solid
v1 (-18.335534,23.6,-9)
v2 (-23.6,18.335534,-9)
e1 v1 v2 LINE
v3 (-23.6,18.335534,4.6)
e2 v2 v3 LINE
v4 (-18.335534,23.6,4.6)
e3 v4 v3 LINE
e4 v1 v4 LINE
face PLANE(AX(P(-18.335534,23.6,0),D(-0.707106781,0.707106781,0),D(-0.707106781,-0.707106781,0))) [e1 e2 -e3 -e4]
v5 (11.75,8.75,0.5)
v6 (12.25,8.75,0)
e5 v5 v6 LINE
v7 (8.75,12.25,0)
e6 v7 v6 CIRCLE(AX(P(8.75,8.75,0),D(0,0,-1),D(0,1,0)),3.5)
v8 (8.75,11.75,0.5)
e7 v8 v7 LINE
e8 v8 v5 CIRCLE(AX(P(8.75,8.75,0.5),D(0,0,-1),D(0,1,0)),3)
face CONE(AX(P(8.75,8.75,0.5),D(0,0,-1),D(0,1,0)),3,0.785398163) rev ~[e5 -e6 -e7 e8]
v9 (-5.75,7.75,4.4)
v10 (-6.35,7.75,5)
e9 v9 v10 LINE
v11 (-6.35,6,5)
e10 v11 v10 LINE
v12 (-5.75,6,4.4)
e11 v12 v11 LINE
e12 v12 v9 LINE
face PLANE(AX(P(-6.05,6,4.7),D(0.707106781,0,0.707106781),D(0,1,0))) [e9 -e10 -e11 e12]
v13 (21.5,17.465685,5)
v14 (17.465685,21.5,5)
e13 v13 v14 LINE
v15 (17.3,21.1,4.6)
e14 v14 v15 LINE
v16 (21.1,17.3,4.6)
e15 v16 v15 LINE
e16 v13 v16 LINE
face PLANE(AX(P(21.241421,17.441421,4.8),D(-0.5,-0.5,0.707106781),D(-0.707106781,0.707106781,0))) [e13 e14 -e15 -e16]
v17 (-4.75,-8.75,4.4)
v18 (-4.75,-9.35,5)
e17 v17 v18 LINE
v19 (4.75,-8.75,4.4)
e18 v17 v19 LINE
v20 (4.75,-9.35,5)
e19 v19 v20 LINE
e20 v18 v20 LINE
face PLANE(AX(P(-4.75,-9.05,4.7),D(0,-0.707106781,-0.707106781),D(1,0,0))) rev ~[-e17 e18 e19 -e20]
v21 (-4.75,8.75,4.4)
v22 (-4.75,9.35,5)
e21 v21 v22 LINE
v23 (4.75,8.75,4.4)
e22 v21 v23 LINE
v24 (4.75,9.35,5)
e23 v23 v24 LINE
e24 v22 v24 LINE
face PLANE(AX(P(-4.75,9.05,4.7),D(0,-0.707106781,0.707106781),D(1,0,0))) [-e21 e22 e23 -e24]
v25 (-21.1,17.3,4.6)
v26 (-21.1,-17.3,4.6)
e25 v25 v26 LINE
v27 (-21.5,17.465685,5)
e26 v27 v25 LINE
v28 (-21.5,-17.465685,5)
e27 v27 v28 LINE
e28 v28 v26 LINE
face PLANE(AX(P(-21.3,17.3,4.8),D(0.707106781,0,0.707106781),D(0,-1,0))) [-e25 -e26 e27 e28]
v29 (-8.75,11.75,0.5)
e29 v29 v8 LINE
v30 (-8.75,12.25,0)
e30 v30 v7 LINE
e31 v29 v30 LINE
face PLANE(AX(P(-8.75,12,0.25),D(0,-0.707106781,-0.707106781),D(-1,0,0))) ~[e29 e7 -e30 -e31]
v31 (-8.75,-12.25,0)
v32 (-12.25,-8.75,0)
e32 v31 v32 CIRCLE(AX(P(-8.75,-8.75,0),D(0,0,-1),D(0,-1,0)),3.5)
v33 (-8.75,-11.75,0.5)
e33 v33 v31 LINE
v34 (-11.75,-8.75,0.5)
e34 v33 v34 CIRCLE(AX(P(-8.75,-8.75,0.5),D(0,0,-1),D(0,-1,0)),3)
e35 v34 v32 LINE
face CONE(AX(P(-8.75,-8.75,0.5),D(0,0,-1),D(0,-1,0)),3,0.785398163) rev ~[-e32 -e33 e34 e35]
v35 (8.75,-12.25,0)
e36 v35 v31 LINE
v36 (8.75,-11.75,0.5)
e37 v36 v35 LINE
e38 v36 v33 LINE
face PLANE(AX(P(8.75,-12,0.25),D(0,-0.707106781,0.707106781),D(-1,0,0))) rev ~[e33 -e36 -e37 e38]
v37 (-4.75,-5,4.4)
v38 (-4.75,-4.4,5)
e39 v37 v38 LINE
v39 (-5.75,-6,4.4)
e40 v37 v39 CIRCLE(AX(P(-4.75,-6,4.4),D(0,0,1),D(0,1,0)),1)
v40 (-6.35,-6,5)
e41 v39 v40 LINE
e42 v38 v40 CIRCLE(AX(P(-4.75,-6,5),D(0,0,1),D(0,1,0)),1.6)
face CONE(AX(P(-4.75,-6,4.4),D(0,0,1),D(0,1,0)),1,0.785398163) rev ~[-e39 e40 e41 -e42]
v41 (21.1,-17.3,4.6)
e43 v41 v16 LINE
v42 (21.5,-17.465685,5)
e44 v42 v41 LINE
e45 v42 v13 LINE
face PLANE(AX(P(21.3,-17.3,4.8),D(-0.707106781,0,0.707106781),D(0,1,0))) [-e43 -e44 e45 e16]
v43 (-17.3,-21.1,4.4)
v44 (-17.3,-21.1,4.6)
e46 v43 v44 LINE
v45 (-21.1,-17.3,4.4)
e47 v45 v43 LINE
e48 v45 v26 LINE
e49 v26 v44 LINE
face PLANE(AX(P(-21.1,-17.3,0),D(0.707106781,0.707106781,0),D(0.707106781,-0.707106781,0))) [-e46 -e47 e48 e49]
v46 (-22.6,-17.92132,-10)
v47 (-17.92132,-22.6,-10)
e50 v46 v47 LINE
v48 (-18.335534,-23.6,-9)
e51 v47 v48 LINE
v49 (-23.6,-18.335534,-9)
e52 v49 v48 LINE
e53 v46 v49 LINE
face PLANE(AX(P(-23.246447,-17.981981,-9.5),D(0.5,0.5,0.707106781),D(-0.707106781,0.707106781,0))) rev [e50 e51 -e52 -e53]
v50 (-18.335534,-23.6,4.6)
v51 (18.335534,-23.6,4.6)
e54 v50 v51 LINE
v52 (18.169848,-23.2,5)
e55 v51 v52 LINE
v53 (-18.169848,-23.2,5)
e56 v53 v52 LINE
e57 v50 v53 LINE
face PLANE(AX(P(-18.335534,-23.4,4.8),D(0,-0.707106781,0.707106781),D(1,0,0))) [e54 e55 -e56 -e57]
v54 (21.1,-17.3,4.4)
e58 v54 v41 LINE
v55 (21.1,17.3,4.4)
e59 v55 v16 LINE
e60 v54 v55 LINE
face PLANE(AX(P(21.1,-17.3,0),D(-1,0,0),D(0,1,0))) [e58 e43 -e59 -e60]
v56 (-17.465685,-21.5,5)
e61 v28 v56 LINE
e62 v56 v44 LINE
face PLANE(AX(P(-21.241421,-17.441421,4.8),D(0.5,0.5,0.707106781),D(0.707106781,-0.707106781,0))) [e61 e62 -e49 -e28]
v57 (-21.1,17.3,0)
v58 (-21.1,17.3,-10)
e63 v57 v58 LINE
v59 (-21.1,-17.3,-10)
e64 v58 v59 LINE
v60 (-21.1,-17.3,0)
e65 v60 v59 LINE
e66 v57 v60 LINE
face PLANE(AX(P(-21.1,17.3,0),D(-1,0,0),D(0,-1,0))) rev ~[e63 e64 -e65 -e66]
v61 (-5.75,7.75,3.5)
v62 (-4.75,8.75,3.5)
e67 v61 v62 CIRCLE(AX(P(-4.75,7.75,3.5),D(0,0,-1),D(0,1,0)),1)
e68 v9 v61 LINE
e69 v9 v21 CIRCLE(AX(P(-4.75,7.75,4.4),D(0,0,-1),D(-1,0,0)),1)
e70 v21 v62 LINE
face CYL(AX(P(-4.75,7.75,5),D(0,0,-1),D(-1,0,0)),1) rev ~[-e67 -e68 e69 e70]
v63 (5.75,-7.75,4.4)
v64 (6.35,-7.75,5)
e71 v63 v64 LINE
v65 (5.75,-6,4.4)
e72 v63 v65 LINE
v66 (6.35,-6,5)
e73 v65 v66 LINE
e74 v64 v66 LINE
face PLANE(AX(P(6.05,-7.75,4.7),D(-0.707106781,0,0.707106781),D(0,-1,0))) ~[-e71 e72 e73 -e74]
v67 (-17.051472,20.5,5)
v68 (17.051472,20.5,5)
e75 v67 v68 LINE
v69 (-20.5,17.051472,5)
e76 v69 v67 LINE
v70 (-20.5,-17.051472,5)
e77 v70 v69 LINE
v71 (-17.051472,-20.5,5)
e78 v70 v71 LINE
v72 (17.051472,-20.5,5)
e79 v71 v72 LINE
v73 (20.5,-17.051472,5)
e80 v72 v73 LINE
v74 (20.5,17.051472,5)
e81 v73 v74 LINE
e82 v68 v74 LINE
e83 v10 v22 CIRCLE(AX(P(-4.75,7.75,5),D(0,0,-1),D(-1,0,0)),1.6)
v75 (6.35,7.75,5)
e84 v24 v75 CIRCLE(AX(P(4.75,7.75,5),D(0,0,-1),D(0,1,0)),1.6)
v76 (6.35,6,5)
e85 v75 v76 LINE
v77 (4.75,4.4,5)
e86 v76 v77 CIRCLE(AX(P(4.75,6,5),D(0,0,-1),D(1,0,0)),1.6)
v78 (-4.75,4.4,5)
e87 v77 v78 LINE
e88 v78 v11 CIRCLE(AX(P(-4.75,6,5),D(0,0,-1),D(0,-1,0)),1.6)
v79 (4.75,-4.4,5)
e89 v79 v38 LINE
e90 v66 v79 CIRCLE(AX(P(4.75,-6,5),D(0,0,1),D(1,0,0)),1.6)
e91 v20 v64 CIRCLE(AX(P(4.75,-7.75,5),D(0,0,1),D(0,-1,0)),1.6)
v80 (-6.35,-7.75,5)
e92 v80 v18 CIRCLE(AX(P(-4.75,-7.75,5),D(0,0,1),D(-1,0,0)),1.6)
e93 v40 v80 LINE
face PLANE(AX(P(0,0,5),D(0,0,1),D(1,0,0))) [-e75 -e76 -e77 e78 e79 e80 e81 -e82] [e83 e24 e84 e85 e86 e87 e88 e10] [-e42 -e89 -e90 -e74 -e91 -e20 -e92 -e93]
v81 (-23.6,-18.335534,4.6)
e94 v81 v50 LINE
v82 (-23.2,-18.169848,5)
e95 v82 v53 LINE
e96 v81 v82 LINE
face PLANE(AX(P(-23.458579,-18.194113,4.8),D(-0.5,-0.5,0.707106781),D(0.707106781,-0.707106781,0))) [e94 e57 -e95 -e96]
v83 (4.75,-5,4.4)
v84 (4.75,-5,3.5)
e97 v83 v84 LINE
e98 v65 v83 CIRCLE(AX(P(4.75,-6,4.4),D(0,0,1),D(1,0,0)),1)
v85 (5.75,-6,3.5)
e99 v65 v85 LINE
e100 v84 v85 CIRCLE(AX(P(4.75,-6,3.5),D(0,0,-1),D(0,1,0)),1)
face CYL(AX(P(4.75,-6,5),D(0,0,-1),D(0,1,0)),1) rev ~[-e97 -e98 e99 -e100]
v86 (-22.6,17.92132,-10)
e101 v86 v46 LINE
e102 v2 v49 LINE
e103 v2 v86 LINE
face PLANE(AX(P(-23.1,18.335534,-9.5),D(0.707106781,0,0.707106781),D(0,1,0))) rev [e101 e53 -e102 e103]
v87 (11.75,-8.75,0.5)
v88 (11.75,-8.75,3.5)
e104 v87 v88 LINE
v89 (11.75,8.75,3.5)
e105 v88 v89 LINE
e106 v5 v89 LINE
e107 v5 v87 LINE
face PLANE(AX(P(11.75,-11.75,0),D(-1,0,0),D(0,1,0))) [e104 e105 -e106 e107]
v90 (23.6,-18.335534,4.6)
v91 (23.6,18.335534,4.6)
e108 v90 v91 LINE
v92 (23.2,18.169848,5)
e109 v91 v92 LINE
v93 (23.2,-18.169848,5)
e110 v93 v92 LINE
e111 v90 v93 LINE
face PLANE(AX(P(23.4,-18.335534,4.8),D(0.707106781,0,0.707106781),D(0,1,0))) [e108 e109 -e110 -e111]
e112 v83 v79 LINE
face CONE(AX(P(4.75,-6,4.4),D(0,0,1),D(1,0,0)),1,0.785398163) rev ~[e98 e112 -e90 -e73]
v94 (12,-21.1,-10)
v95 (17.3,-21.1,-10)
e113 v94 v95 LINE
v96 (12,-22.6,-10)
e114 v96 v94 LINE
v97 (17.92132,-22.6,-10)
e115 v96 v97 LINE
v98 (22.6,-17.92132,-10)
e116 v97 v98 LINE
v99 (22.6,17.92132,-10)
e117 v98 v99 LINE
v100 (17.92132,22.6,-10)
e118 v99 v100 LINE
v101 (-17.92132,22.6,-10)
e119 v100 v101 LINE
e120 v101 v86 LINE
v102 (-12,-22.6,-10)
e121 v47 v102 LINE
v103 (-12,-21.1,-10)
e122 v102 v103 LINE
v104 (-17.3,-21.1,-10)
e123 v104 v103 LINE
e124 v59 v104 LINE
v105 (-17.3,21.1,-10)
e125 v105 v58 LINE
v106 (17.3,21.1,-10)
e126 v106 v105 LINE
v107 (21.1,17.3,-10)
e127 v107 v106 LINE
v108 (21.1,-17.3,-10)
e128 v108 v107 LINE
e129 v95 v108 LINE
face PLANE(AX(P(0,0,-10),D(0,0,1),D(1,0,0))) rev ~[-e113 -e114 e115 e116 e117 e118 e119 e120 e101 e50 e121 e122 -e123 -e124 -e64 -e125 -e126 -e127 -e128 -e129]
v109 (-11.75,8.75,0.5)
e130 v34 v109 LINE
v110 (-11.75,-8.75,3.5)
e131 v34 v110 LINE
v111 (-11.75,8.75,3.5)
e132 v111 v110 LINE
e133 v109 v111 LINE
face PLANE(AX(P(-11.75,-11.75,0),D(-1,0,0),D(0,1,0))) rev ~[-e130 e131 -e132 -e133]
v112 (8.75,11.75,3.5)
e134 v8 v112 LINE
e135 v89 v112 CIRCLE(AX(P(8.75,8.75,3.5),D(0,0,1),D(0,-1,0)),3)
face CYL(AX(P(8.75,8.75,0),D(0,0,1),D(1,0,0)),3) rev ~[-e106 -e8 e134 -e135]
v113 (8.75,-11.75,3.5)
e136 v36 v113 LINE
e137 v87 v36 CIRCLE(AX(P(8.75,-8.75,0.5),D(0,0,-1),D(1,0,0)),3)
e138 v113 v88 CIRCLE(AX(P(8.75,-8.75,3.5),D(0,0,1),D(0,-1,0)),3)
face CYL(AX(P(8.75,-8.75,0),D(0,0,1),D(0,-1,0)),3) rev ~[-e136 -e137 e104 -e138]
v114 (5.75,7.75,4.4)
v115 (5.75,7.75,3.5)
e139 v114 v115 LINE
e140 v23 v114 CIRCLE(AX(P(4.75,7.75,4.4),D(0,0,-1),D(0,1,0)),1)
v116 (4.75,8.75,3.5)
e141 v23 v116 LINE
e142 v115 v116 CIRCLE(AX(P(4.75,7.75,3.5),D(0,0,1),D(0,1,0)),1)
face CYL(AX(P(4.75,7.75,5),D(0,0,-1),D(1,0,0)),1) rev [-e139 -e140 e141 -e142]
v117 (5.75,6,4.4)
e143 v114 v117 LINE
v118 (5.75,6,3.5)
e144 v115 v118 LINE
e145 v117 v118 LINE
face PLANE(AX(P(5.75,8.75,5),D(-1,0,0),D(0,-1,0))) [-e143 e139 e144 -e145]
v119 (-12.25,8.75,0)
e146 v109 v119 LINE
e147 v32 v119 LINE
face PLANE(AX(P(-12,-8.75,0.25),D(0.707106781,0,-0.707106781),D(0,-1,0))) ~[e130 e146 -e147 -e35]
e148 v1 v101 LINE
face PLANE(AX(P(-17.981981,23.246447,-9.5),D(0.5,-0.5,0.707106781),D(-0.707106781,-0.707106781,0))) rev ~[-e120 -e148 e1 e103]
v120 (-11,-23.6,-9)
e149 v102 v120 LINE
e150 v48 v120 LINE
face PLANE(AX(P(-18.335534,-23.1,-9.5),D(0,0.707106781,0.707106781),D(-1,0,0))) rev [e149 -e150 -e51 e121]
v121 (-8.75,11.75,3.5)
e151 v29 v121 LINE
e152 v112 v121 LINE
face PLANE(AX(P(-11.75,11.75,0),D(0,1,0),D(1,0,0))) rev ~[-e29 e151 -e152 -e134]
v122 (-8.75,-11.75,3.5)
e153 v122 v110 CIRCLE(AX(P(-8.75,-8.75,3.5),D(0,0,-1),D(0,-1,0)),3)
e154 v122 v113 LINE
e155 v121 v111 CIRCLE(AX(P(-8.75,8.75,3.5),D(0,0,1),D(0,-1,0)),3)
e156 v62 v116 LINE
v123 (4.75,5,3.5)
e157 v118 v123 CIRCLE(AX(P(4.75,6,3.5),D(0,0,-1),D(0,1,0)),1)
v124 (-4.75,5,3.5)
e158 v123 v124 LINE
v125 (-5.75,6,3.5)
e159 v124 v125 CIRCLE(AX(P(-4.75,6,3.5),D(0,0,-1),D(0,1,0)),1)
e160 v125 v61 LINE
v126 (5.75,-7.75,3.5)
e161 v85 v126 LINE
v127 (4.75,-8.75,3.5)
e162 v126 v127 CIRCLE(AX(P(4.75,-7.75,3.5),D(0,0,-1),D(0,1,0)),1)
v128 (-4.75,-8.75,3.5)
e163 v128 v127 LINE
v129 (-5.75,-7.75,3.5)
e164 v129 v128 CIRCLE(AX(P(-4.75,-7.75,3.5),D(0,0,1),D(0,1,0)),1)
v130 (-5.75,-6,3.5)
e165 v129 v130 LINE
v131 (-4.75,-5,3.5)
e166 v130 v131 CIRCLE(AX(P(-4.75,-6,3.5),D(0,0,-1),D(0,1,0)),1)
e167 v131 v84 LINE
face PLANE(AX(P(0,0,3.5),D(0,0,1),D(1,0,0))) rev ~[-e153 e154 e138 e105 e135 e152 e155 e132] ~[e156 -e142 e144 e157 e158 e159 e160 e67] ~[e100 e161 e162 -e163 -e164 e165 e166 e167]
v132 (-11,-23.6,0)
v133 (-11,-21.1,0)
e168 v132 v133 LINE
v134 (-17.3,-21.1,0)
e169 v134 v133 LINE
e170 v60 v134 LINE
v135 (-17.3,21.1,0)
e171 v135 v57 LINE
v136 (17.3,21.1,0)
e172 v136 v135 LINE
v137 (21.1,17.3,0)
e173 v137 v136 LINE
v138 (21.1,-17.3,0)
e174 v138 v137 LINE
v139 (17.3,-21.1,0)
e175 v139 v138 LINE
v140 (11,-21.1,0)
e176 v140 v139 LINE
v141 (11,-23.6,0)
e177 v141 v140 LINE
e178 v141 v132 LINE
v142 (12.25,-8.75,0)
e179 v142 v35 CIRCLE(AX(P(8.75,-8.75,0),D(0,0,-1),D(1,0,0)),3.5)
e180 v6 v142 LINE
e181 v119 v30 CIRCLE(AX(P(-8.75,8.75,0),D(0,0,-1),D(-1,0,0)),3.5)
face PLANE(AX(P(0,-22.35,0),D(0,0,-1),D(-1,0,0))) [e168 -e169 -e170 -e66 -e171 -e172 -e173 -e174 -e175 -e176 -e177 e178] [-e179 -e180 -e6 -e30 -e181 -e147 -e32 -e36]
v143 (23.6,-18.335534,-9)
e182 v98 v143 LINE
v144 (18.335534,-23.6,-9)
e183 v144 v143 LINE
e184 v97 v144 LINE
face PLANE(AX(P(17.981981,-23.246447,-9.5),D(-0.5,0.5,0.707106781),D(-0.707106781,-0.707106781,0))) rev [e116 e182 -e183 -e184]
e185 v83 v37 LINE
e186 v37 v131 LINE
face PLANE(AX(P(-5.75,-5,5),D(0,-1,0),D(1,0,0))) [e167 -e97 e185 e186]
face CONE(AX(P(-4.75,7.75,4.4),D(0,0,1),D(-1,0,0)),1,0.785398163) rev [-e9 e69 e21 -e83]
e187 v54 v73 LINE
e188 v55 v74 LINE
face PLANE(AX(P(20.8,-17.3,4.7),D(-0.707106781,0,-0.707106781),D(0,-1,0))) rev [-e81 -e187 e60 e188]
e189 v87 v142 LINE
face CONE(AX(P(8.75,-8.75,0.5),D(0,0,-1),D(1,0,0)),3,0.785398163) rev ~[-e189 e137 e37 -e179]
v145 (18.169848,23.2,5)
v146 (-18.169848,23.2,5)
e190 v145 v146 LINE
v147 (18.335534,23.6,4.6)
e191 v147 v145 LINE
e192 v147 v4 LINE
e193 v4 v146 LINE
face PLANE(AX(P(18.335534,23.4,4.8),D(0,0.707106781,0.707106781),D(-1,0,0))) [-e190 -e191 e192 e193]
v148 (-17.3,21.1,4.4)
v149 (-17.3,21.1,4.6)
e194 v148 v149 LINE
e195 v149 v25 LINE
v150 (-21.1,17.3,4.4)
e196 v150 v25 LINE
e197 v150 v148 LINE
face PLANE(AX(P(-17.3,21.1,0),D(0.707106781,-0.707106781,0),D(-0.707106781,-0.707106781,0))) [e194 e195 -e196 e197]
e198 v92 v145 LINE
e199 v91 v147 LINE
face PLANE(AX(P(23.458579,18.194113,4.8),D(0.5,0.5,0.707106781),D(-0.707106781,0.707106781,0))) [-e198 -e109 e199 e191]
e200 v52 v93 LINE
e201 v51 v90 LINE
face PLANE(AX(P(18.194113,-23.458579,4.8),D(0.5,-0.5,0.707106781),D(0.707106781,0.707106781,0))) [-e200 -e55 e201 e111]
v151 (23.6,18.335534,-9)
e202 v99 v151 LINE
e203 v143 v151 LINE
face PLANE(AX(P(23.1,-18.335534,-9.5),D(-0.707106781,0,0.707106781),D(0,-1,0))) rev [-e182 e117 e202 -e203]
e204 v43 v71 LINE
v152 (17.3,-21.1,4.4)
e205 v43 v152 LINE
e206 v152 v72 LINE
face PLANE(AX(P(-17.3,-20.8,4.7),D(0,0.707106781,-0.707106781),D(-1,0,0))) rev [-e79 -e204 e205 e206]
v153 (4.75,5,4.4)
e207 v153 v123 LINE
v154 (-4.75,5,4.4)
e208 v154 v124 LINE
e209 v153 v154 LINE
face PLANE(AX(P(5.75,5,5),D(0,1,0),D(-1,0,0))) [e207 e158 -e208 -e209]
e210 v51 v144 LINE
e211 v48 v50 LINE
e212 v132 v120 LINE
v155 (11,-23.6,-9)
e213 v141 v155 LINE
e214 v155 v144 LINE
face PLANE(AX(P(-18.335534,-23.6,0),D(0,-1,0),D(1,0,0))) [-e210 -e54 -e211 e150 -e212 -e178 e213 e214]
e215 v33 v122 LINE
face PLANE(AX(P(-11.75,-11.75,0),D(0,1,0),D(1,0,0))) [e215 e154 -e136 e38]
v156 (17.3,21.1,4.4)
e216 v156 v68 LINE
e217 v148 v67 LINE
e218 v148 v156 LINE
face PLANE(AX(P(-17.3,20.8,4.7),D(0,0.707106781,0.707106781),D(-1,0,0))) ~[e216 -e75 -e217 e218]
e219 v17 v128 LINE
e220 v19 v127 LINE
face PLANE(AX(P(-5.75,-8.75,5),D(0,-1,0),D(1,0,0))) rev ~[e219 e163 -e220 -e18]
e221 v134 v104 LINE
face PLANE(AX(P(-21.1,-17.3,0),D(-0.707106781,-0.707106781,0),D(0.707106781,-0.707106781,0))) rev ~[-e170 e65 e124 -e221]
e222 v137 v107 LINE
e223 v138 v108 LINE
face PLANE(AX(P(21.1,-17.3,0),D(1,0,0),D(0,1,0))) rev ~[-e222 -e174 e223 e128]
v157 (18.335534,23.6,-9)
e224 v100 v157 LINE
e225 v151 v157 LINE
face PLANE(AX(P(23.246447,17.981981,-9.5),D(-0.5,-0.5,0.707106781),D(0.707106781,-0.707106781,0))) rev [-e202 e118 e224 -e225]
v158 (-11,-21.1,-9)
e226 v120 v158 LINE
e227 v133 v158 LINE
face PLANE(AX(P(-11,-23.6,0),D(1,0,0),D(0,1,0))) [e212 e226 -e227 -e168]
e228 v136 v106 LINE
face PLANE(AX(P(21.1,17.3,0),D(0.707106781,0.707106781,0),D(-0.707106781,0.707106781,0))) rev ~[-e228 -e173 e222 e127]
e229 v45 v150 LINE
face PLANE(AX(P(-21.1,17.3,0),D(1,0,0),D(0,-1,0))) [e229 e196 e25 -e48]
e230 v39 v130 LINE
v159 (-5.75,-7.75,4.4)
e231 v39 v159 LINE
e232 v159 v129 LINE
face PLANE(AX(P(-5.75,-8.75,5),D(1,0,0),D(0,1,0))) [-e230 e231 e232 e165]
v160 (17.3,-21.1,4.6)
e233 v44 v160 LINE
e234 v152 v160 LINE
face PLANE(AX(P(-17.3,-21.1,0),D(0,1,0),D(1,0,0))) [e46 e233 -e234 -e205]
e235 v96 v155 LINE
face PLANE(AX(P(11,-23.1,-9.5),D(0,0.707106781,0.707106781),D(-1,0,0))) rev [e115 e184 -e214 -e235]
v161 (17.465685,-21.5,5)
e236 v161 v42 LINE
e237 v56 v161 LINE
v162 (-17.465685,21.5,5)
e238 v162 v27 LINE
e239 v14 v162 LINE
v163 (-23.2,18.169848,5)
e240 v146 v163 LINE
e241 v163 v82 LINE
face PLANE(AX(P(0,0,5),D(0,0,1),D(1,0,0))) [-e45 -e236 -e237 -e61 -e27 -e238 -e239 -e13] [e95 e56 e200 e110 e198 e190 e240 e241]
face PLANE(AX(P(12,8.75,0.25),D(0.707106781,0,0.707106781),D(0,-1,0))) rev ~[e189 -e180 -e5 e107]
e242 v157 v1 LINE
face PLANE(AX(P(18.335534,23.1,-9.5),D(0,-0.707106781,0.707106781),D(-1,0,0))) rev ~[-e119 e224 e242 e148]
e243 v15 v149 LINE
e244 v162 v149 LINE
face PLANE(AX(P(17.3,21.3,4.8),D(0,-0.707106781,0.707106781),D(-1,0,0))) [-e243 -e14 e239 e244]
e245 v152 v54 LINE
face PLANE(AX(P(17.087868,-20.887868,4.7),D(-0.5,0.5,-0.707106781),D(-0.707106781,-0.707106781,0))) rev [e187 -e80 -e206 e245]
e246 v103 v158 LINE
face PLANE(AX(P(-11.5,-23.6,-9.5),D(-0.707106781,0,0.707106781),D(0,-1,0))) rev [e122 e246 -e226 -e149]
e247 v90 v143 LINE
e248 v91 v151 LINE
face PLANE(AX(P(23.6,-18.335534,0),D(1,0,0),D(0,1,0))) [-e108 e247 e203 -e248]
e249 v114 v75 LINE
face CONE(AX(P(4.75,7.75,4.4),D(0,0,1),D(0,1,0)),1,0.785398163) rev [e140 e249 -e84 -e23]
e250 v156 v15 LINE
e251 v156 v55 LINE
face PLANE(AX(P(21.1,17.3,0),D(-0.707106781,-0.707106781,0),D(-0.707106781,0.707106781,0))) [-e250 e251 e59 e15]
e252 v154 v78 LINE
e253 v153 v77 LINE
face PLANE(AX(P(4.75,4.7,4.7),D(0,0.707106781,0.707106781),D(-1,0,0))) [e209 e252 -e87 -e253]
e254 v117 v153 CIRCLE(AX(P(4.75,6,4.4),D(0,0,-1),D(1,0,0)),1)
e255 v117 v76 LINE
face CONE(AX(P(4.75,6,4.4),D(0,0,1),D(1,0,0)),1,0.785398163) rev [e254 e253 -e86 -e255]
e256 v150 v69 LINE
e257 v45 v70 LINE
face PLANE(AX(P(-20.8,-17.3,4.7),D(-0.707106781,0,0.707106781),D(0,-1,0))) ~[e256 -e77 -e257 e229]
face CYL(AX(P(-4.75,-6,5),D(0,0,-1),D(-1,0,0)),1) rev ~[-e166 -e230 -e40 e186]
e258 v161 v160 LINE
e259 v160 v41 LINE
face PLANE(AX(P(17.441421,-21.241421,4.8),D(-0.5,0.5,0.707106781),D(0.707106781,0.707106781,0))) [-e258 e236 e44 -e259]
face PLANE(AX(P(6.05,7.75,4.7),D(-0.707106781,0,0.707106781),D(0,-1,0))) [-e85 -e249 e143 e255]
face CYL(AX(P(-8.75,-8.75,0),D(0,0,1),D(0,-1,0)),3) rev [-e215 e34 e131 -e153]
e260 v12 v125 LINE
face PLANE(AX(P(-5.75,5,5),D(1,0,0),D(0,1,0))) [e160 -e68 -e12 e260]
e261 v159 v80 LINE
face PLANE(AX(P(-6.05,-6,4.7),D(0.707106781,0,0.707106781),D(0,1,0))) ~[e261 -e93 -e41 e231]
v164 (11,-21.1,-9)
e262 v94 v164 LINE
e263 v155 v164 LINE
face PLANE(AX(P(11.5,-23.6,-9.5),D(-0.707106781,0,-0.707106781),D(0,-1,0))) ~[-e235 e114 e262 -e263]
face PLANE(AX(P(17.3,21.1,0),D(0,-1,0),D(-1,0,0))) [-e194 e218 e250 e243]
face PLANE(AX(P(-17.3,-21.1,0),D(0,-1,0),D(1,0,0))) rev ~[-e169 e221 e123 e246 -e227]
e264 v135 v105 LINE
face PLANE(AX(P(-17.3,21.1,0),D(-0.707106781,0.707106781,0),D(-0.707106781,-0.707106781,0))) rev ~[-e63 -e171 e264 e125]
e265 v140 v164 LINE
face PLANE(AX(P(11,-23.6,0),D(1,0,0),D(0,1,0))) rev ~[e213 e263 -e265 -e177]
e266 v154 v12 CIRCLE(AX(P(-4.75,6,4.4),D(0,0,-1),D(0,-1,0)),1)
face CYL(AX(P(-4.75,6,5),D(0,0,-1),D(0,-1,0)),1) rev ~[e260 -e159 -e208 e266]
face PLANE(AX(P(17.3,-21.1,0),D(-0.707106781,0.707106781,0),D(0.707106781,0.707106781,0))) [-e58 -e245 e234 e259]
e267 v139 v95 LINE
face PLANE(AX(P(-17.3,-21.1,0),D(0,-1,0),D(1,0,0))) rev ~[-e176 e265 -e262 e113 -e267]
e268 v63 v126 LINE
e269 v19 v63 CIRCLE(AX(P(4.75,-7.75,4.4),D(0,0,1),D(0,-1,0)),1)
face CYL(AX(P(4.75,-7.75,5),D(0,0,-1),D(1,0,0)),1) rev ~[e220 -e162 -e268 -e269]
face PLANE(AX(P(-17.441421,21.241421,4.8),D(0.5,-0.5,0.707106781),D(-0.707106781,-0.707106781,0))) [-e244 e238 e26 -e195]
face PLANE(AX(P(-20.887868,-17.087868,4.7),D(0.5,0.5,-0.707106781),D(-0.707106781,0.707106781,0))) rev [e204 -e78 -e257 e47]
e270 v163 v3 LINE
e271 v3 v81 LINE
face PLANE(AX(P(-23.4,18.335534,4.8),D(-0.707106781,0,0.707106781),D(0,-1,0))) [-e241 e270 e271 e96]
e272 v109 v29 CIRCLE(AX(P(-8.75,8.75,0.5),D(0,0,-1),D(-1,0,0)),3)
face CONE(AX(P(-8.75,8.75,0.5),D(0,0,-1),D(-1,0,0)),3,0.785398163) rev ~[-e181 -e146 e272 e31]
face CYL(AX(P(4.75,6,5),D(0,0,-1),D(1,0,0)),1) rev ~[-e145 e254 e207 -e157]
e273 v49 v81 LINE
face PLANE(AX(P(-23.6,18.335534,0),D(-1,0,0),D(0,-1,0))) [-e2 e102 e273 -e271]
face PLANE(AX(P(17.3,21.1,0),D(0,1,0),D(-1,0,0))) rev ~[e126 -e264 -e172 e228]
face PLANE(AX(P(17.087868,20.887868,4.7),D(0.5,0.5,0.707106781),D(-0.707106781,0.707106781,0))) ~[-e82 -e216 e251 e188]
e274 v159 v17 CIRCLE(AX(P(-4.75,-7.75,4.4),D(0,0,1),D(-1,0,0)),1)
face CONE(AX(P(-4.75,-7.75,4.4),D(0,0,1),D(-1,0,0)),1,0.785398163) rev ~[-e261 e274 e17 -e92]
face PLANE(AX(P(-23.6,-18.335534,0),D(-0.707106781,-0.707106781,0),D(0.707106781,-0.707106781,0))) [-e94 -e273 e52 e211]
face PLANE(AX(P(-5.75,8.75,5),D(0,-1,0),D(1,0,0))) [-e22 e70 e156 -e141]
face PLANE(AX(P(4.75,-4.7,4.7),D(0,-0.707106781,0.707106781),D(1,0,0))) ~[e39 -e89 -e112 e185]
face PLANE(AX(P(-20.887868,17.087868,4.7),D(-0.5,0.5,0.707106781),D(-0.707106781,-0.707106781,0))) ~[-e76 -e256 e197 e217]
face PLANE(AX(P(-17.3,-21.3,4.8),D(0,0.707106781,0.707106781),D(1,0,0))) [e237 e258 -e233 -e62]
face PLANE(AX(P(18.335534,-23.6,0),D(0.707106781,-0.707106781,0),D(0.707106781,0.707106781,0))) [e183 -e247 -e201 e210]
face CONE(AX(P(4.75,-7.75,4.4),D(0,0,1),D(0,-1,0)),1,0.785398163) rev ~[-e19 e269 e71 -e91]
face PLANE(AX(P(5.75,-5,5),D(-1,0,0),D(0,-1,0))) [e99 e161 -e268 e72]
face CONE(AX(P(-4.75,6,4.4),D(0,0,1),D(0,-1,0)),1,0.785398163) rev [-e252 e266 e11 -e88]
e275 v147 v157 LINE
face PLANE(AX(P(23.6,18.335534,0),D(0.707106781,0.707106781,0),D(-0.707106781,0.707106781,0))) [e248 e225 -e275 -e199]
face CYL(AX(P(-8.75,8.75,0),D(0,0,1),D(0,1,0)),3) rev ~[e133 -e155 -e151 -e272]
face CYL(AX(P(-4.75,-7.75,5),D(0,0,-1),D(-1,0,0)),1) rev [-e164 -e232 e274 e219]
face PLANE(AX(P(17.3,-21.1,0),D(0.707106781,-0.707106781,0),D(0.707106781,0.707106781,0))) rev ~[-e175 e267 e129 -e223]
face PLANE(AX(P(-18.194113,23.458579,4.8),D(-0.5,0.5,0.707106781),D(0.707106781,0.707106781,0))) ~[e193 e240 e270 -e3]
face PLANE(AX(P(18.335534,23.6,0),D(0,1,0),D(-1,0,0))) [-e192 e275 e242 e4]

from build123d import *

# Parameters (mm, degrees)
SKETCH1_W                = 42.2
SKETCH1_H                = 42.2
SKETCH1_W_2              = 23.5
SKETCH1_H_2              = 23.5
BOSS_EXTRUDE1_DEPTH      = 5
SKETCH3_W                = 11.5
SKETCH3_H                = 3
BOSS_EXTRUDE3_DEPTH      = 1.5
CHAMFER1_SIZE            = 3.8
FILLET1_R                = 3
FILLET2_R                = 1
CHAMFER3_SIZE            = 0.5
CHAMFER4_SIZE            = 0.6
BOSS_EXTRUDE5_DEPTH      = 5
BOSS_EXTRUDE5_DEPTH_BACK = 10
CHAMFER5_SIZE            = 0.4
CUT_EXTRUDE4_START       = -10
SKETCH8_W                = 22
SKETCH8_H                = 2.5
CUT_EXTRUDE4_DEPTH       = 10
CHAMFER6_SIZE            = 1


with BuildPart() as part:
    # Sketch1 → Boss-Extrude1 (new body)
    with BuildSketch(Plane.XY):
        Rectangle(SKETCH1_W, SKETCH1_H)
        Rectangle(SKETCH1_W_2, SKETCH1_H_2, mode=Mode.SUBTRACT)
    extrude(amount=BOSS_EXTRUDE1_DEPTH)

    # Sketch3 → Boss-Extrude3 (add)
    with BuildSketch(Plane.XY.offset(5)):
        Polygon((11.75, 11.75), (5.75, 11.75), (5.75, 8.75), (5.75, 5), (-5.75, 5), (-5.75, 8.75), (-5.75, 11.75), (-11.75, 11.75), (-11.75, -11.75), (-5.75, -11.75), (-5.75, -8.75), (-5.75, -5), (5.75, -5), (5.75, -8.75), (5.75, -11.75), (11.75, -11.75), align=None)
        with Locations((0, 10.25)):
            Rectangle(SKETCH3_W, SKETCH3_H)
        with Locations((0, -10.25)):
            Rectangle(SKETCH3_W, SKETCH3_H)
    extrude(amount=-BOSS_EXTRUDE3_DEPTH)

    # Chamfer1
    chamfer1_edges = [part.edges().sort_by_distance(p)[0] for p in [
        (21.1, -21.1, 2.5),
        (-21.1, -21.1, 2.5),
        (-21.1, 21.1, 2.5),
        (21.1, 21.1, 2.5),
    ]]
    chamfer(chamfer1_edges, length=CHAMFER1_SIZE)

    # Fillet1
    fillet1_edges = [part.edges().sort_by_distance(p)[0] for p in [
        (-11.75, -11.75, 1.75),
        (11.75, -11.75, 1.75),
        (-11.75, 11.75, 1.75),
        (11.75, 11.75, 1.75),
    ]]
    fillet(fillet1_edges, radius=FILLET1_R)

    # Fillet2
    fillet2_edges = [part.edges().sort_by_distance(p)[0] for p in [
        (5.75, 8.75, 4.25),
        (-5.75, 8.75, 4.25),
        (-5.75, 5, 4.25),
        (5.75, -8.75, 4.25),
        (5.75, -5, 4.25),
        (-5.75, -5, 4.25),
        (5.75, 5, 4.25),
        (-5.75, -8.75, 4.25),
    ]]
    fillet(fillet2_edges, radius=FILLET2_R)

    # Chamfer3
    chamfer3_edges = [part.edges().sort_by_distance(p)[0] for p in [
        (-10.871320344, -10.871320344, 0),
        (-10.871320344, 10.871320344, 0),
        (10.871320344, -10.871320344, 0),
        (10.871320344, 10.871320344, 0),
        (-11.75, 0, 0),
        (0, -11.75, 0),
        (0, 11.75, 0),
        (11.75, 0, 0),
    ]]
    chamfer(chamfer3_edges, length=CHAMFER3_SIZE)

    # Chamfer4
    chamfer4_edges = [part.edges().sort_by_distance(p)[0] for p in [
        (0, -8.75, 5),
        (-5.75, -6.875, 5),
        (0, -5, 5),
        (5.75, -6.875, 5),
        (5.75, 6.875, 5),
        (0, 5, 5),
        (-5.75, 6.875, 5),
        (0, 8.75, 5),
        (-5.457106781, -8.457106781, 5),
        (-5.457106781, -5.292893219, 5),
        (5.457106781, -5.292893219, 5),
        (5.457106781, -8.457106781, 5),
        (5.457106781, 5.292893219, 5),
        (-5.457106781, 5.292893219, 5),
        (-5.457106781, 8.457106781, 5),
        (5.457106781, 8.457106781, 5),
        (0, 21.1, 5),
        (21.1, 0, 5),
        (-21.1, 0, 5),
        (0, -21.1, 5),
        (-19.2, -19.2, 5),
        (-19.2, 19.2, 5),
        (19.2, -19.2, 5),
        (19.2, 19.2, 5),
    ]]
    chamfer(chamfer4_edges, length=CHAMFER4_SIZE)

    # Sketch7 → Boss-Extrude5 (add, two sides)
    with BuildSketch(Plane.XY) as boss_extrude5_sk:
        Polygon((18.335533906, 23.6), (-18.335533906, 23.6), (-23.6, 18.335533906), (-23.6, -18.335533906), (-18.335533906, -23.6), (18.335533906, -23.6), (23.6, -18.335533906), (23.6, 18.335533906), align=None)
        Polygon((17.3, 21.1), (-17.3, 21.1), (-21.1, 17.3), (-21.1, -17.3), (-17.3, -21.1), (17.3, -21.1), (21.1, -17.3), (21.1, 17.3), align=None, mode=Mode.SUBTRACT)
    extrude(amount=BOSS_EXTRUDE5_DEPTH)
    extrude(boss_extrude5_sk.sketch, amount=-BOSS_EXTRUDE5_DEPTH_BACK)

    # Chamfer5
    chamfer5_edges = [part.edges().sort_by_distance(p)[0] for p in [
        (20.967766953, 20.967766953, 5),
        (0, 23.6, 5),
        (-20.967766953, 20.967766953, 5),
        (-23.6, 0, 5),
        (-20.967766953, -20.967766953, 5),
        (0, -23.6, 5),
        (20.967766953, -20.967766953, 5),
        (23.6, 0, 5),
        (-19.2, 19.2, 5),
        (-21.1, 0, 5),
        (-19.2, -19.2, 5),
        (0, -21.1, 5),
        (19.2, -19.2, 5),
        (21.1, 0, 5),
        (19.2, 19.2, 5),
        (0, 21.1, 5),
    ]]
    chamfer(chamfer5_edges, length=CHAMFER5_SIZE)

    # Sketch8 → Cut-Extrude4 (cut)
    with BuildSketch(Plane(origin=(0, 0, -10), x_dir=(-1, 0, 0), z_dir=(0, 0, -1)).offset(CUT_EXTRUDE4_START)):
        with Locations((0, -22.35)):
            Rectangle(SKETCH8_W, SKETCH8_H)
    extrude(amount=CUT_EXTRUDE4_DEPTH, mode=Mode.SUBTRACT)

    # Chamfer6
    chamfer6_edges = [part.edges().sort_by_distance(p)[0] for p in [
        (20.967766953, 20.967766953, -10),
        (0, 23.6, -10),
        (-20.967766953, 20.967766953, -10),
        (-23.6, 0, -10),
        (-20.967766953, -20.967766953, -10),
        (-14.667766953, -23.6, -10),
        (20.967766953, -20.967766953, -10),
        (23.6, 0, -10),
        (14.667766953, -23.6, -10),
        (11, -22.35, -10),
        (-11, -22.35, -10),
    ]]
    chamfer(chamfer6_edges, length=CHAMFER6_SIZE)


solid = part.part
